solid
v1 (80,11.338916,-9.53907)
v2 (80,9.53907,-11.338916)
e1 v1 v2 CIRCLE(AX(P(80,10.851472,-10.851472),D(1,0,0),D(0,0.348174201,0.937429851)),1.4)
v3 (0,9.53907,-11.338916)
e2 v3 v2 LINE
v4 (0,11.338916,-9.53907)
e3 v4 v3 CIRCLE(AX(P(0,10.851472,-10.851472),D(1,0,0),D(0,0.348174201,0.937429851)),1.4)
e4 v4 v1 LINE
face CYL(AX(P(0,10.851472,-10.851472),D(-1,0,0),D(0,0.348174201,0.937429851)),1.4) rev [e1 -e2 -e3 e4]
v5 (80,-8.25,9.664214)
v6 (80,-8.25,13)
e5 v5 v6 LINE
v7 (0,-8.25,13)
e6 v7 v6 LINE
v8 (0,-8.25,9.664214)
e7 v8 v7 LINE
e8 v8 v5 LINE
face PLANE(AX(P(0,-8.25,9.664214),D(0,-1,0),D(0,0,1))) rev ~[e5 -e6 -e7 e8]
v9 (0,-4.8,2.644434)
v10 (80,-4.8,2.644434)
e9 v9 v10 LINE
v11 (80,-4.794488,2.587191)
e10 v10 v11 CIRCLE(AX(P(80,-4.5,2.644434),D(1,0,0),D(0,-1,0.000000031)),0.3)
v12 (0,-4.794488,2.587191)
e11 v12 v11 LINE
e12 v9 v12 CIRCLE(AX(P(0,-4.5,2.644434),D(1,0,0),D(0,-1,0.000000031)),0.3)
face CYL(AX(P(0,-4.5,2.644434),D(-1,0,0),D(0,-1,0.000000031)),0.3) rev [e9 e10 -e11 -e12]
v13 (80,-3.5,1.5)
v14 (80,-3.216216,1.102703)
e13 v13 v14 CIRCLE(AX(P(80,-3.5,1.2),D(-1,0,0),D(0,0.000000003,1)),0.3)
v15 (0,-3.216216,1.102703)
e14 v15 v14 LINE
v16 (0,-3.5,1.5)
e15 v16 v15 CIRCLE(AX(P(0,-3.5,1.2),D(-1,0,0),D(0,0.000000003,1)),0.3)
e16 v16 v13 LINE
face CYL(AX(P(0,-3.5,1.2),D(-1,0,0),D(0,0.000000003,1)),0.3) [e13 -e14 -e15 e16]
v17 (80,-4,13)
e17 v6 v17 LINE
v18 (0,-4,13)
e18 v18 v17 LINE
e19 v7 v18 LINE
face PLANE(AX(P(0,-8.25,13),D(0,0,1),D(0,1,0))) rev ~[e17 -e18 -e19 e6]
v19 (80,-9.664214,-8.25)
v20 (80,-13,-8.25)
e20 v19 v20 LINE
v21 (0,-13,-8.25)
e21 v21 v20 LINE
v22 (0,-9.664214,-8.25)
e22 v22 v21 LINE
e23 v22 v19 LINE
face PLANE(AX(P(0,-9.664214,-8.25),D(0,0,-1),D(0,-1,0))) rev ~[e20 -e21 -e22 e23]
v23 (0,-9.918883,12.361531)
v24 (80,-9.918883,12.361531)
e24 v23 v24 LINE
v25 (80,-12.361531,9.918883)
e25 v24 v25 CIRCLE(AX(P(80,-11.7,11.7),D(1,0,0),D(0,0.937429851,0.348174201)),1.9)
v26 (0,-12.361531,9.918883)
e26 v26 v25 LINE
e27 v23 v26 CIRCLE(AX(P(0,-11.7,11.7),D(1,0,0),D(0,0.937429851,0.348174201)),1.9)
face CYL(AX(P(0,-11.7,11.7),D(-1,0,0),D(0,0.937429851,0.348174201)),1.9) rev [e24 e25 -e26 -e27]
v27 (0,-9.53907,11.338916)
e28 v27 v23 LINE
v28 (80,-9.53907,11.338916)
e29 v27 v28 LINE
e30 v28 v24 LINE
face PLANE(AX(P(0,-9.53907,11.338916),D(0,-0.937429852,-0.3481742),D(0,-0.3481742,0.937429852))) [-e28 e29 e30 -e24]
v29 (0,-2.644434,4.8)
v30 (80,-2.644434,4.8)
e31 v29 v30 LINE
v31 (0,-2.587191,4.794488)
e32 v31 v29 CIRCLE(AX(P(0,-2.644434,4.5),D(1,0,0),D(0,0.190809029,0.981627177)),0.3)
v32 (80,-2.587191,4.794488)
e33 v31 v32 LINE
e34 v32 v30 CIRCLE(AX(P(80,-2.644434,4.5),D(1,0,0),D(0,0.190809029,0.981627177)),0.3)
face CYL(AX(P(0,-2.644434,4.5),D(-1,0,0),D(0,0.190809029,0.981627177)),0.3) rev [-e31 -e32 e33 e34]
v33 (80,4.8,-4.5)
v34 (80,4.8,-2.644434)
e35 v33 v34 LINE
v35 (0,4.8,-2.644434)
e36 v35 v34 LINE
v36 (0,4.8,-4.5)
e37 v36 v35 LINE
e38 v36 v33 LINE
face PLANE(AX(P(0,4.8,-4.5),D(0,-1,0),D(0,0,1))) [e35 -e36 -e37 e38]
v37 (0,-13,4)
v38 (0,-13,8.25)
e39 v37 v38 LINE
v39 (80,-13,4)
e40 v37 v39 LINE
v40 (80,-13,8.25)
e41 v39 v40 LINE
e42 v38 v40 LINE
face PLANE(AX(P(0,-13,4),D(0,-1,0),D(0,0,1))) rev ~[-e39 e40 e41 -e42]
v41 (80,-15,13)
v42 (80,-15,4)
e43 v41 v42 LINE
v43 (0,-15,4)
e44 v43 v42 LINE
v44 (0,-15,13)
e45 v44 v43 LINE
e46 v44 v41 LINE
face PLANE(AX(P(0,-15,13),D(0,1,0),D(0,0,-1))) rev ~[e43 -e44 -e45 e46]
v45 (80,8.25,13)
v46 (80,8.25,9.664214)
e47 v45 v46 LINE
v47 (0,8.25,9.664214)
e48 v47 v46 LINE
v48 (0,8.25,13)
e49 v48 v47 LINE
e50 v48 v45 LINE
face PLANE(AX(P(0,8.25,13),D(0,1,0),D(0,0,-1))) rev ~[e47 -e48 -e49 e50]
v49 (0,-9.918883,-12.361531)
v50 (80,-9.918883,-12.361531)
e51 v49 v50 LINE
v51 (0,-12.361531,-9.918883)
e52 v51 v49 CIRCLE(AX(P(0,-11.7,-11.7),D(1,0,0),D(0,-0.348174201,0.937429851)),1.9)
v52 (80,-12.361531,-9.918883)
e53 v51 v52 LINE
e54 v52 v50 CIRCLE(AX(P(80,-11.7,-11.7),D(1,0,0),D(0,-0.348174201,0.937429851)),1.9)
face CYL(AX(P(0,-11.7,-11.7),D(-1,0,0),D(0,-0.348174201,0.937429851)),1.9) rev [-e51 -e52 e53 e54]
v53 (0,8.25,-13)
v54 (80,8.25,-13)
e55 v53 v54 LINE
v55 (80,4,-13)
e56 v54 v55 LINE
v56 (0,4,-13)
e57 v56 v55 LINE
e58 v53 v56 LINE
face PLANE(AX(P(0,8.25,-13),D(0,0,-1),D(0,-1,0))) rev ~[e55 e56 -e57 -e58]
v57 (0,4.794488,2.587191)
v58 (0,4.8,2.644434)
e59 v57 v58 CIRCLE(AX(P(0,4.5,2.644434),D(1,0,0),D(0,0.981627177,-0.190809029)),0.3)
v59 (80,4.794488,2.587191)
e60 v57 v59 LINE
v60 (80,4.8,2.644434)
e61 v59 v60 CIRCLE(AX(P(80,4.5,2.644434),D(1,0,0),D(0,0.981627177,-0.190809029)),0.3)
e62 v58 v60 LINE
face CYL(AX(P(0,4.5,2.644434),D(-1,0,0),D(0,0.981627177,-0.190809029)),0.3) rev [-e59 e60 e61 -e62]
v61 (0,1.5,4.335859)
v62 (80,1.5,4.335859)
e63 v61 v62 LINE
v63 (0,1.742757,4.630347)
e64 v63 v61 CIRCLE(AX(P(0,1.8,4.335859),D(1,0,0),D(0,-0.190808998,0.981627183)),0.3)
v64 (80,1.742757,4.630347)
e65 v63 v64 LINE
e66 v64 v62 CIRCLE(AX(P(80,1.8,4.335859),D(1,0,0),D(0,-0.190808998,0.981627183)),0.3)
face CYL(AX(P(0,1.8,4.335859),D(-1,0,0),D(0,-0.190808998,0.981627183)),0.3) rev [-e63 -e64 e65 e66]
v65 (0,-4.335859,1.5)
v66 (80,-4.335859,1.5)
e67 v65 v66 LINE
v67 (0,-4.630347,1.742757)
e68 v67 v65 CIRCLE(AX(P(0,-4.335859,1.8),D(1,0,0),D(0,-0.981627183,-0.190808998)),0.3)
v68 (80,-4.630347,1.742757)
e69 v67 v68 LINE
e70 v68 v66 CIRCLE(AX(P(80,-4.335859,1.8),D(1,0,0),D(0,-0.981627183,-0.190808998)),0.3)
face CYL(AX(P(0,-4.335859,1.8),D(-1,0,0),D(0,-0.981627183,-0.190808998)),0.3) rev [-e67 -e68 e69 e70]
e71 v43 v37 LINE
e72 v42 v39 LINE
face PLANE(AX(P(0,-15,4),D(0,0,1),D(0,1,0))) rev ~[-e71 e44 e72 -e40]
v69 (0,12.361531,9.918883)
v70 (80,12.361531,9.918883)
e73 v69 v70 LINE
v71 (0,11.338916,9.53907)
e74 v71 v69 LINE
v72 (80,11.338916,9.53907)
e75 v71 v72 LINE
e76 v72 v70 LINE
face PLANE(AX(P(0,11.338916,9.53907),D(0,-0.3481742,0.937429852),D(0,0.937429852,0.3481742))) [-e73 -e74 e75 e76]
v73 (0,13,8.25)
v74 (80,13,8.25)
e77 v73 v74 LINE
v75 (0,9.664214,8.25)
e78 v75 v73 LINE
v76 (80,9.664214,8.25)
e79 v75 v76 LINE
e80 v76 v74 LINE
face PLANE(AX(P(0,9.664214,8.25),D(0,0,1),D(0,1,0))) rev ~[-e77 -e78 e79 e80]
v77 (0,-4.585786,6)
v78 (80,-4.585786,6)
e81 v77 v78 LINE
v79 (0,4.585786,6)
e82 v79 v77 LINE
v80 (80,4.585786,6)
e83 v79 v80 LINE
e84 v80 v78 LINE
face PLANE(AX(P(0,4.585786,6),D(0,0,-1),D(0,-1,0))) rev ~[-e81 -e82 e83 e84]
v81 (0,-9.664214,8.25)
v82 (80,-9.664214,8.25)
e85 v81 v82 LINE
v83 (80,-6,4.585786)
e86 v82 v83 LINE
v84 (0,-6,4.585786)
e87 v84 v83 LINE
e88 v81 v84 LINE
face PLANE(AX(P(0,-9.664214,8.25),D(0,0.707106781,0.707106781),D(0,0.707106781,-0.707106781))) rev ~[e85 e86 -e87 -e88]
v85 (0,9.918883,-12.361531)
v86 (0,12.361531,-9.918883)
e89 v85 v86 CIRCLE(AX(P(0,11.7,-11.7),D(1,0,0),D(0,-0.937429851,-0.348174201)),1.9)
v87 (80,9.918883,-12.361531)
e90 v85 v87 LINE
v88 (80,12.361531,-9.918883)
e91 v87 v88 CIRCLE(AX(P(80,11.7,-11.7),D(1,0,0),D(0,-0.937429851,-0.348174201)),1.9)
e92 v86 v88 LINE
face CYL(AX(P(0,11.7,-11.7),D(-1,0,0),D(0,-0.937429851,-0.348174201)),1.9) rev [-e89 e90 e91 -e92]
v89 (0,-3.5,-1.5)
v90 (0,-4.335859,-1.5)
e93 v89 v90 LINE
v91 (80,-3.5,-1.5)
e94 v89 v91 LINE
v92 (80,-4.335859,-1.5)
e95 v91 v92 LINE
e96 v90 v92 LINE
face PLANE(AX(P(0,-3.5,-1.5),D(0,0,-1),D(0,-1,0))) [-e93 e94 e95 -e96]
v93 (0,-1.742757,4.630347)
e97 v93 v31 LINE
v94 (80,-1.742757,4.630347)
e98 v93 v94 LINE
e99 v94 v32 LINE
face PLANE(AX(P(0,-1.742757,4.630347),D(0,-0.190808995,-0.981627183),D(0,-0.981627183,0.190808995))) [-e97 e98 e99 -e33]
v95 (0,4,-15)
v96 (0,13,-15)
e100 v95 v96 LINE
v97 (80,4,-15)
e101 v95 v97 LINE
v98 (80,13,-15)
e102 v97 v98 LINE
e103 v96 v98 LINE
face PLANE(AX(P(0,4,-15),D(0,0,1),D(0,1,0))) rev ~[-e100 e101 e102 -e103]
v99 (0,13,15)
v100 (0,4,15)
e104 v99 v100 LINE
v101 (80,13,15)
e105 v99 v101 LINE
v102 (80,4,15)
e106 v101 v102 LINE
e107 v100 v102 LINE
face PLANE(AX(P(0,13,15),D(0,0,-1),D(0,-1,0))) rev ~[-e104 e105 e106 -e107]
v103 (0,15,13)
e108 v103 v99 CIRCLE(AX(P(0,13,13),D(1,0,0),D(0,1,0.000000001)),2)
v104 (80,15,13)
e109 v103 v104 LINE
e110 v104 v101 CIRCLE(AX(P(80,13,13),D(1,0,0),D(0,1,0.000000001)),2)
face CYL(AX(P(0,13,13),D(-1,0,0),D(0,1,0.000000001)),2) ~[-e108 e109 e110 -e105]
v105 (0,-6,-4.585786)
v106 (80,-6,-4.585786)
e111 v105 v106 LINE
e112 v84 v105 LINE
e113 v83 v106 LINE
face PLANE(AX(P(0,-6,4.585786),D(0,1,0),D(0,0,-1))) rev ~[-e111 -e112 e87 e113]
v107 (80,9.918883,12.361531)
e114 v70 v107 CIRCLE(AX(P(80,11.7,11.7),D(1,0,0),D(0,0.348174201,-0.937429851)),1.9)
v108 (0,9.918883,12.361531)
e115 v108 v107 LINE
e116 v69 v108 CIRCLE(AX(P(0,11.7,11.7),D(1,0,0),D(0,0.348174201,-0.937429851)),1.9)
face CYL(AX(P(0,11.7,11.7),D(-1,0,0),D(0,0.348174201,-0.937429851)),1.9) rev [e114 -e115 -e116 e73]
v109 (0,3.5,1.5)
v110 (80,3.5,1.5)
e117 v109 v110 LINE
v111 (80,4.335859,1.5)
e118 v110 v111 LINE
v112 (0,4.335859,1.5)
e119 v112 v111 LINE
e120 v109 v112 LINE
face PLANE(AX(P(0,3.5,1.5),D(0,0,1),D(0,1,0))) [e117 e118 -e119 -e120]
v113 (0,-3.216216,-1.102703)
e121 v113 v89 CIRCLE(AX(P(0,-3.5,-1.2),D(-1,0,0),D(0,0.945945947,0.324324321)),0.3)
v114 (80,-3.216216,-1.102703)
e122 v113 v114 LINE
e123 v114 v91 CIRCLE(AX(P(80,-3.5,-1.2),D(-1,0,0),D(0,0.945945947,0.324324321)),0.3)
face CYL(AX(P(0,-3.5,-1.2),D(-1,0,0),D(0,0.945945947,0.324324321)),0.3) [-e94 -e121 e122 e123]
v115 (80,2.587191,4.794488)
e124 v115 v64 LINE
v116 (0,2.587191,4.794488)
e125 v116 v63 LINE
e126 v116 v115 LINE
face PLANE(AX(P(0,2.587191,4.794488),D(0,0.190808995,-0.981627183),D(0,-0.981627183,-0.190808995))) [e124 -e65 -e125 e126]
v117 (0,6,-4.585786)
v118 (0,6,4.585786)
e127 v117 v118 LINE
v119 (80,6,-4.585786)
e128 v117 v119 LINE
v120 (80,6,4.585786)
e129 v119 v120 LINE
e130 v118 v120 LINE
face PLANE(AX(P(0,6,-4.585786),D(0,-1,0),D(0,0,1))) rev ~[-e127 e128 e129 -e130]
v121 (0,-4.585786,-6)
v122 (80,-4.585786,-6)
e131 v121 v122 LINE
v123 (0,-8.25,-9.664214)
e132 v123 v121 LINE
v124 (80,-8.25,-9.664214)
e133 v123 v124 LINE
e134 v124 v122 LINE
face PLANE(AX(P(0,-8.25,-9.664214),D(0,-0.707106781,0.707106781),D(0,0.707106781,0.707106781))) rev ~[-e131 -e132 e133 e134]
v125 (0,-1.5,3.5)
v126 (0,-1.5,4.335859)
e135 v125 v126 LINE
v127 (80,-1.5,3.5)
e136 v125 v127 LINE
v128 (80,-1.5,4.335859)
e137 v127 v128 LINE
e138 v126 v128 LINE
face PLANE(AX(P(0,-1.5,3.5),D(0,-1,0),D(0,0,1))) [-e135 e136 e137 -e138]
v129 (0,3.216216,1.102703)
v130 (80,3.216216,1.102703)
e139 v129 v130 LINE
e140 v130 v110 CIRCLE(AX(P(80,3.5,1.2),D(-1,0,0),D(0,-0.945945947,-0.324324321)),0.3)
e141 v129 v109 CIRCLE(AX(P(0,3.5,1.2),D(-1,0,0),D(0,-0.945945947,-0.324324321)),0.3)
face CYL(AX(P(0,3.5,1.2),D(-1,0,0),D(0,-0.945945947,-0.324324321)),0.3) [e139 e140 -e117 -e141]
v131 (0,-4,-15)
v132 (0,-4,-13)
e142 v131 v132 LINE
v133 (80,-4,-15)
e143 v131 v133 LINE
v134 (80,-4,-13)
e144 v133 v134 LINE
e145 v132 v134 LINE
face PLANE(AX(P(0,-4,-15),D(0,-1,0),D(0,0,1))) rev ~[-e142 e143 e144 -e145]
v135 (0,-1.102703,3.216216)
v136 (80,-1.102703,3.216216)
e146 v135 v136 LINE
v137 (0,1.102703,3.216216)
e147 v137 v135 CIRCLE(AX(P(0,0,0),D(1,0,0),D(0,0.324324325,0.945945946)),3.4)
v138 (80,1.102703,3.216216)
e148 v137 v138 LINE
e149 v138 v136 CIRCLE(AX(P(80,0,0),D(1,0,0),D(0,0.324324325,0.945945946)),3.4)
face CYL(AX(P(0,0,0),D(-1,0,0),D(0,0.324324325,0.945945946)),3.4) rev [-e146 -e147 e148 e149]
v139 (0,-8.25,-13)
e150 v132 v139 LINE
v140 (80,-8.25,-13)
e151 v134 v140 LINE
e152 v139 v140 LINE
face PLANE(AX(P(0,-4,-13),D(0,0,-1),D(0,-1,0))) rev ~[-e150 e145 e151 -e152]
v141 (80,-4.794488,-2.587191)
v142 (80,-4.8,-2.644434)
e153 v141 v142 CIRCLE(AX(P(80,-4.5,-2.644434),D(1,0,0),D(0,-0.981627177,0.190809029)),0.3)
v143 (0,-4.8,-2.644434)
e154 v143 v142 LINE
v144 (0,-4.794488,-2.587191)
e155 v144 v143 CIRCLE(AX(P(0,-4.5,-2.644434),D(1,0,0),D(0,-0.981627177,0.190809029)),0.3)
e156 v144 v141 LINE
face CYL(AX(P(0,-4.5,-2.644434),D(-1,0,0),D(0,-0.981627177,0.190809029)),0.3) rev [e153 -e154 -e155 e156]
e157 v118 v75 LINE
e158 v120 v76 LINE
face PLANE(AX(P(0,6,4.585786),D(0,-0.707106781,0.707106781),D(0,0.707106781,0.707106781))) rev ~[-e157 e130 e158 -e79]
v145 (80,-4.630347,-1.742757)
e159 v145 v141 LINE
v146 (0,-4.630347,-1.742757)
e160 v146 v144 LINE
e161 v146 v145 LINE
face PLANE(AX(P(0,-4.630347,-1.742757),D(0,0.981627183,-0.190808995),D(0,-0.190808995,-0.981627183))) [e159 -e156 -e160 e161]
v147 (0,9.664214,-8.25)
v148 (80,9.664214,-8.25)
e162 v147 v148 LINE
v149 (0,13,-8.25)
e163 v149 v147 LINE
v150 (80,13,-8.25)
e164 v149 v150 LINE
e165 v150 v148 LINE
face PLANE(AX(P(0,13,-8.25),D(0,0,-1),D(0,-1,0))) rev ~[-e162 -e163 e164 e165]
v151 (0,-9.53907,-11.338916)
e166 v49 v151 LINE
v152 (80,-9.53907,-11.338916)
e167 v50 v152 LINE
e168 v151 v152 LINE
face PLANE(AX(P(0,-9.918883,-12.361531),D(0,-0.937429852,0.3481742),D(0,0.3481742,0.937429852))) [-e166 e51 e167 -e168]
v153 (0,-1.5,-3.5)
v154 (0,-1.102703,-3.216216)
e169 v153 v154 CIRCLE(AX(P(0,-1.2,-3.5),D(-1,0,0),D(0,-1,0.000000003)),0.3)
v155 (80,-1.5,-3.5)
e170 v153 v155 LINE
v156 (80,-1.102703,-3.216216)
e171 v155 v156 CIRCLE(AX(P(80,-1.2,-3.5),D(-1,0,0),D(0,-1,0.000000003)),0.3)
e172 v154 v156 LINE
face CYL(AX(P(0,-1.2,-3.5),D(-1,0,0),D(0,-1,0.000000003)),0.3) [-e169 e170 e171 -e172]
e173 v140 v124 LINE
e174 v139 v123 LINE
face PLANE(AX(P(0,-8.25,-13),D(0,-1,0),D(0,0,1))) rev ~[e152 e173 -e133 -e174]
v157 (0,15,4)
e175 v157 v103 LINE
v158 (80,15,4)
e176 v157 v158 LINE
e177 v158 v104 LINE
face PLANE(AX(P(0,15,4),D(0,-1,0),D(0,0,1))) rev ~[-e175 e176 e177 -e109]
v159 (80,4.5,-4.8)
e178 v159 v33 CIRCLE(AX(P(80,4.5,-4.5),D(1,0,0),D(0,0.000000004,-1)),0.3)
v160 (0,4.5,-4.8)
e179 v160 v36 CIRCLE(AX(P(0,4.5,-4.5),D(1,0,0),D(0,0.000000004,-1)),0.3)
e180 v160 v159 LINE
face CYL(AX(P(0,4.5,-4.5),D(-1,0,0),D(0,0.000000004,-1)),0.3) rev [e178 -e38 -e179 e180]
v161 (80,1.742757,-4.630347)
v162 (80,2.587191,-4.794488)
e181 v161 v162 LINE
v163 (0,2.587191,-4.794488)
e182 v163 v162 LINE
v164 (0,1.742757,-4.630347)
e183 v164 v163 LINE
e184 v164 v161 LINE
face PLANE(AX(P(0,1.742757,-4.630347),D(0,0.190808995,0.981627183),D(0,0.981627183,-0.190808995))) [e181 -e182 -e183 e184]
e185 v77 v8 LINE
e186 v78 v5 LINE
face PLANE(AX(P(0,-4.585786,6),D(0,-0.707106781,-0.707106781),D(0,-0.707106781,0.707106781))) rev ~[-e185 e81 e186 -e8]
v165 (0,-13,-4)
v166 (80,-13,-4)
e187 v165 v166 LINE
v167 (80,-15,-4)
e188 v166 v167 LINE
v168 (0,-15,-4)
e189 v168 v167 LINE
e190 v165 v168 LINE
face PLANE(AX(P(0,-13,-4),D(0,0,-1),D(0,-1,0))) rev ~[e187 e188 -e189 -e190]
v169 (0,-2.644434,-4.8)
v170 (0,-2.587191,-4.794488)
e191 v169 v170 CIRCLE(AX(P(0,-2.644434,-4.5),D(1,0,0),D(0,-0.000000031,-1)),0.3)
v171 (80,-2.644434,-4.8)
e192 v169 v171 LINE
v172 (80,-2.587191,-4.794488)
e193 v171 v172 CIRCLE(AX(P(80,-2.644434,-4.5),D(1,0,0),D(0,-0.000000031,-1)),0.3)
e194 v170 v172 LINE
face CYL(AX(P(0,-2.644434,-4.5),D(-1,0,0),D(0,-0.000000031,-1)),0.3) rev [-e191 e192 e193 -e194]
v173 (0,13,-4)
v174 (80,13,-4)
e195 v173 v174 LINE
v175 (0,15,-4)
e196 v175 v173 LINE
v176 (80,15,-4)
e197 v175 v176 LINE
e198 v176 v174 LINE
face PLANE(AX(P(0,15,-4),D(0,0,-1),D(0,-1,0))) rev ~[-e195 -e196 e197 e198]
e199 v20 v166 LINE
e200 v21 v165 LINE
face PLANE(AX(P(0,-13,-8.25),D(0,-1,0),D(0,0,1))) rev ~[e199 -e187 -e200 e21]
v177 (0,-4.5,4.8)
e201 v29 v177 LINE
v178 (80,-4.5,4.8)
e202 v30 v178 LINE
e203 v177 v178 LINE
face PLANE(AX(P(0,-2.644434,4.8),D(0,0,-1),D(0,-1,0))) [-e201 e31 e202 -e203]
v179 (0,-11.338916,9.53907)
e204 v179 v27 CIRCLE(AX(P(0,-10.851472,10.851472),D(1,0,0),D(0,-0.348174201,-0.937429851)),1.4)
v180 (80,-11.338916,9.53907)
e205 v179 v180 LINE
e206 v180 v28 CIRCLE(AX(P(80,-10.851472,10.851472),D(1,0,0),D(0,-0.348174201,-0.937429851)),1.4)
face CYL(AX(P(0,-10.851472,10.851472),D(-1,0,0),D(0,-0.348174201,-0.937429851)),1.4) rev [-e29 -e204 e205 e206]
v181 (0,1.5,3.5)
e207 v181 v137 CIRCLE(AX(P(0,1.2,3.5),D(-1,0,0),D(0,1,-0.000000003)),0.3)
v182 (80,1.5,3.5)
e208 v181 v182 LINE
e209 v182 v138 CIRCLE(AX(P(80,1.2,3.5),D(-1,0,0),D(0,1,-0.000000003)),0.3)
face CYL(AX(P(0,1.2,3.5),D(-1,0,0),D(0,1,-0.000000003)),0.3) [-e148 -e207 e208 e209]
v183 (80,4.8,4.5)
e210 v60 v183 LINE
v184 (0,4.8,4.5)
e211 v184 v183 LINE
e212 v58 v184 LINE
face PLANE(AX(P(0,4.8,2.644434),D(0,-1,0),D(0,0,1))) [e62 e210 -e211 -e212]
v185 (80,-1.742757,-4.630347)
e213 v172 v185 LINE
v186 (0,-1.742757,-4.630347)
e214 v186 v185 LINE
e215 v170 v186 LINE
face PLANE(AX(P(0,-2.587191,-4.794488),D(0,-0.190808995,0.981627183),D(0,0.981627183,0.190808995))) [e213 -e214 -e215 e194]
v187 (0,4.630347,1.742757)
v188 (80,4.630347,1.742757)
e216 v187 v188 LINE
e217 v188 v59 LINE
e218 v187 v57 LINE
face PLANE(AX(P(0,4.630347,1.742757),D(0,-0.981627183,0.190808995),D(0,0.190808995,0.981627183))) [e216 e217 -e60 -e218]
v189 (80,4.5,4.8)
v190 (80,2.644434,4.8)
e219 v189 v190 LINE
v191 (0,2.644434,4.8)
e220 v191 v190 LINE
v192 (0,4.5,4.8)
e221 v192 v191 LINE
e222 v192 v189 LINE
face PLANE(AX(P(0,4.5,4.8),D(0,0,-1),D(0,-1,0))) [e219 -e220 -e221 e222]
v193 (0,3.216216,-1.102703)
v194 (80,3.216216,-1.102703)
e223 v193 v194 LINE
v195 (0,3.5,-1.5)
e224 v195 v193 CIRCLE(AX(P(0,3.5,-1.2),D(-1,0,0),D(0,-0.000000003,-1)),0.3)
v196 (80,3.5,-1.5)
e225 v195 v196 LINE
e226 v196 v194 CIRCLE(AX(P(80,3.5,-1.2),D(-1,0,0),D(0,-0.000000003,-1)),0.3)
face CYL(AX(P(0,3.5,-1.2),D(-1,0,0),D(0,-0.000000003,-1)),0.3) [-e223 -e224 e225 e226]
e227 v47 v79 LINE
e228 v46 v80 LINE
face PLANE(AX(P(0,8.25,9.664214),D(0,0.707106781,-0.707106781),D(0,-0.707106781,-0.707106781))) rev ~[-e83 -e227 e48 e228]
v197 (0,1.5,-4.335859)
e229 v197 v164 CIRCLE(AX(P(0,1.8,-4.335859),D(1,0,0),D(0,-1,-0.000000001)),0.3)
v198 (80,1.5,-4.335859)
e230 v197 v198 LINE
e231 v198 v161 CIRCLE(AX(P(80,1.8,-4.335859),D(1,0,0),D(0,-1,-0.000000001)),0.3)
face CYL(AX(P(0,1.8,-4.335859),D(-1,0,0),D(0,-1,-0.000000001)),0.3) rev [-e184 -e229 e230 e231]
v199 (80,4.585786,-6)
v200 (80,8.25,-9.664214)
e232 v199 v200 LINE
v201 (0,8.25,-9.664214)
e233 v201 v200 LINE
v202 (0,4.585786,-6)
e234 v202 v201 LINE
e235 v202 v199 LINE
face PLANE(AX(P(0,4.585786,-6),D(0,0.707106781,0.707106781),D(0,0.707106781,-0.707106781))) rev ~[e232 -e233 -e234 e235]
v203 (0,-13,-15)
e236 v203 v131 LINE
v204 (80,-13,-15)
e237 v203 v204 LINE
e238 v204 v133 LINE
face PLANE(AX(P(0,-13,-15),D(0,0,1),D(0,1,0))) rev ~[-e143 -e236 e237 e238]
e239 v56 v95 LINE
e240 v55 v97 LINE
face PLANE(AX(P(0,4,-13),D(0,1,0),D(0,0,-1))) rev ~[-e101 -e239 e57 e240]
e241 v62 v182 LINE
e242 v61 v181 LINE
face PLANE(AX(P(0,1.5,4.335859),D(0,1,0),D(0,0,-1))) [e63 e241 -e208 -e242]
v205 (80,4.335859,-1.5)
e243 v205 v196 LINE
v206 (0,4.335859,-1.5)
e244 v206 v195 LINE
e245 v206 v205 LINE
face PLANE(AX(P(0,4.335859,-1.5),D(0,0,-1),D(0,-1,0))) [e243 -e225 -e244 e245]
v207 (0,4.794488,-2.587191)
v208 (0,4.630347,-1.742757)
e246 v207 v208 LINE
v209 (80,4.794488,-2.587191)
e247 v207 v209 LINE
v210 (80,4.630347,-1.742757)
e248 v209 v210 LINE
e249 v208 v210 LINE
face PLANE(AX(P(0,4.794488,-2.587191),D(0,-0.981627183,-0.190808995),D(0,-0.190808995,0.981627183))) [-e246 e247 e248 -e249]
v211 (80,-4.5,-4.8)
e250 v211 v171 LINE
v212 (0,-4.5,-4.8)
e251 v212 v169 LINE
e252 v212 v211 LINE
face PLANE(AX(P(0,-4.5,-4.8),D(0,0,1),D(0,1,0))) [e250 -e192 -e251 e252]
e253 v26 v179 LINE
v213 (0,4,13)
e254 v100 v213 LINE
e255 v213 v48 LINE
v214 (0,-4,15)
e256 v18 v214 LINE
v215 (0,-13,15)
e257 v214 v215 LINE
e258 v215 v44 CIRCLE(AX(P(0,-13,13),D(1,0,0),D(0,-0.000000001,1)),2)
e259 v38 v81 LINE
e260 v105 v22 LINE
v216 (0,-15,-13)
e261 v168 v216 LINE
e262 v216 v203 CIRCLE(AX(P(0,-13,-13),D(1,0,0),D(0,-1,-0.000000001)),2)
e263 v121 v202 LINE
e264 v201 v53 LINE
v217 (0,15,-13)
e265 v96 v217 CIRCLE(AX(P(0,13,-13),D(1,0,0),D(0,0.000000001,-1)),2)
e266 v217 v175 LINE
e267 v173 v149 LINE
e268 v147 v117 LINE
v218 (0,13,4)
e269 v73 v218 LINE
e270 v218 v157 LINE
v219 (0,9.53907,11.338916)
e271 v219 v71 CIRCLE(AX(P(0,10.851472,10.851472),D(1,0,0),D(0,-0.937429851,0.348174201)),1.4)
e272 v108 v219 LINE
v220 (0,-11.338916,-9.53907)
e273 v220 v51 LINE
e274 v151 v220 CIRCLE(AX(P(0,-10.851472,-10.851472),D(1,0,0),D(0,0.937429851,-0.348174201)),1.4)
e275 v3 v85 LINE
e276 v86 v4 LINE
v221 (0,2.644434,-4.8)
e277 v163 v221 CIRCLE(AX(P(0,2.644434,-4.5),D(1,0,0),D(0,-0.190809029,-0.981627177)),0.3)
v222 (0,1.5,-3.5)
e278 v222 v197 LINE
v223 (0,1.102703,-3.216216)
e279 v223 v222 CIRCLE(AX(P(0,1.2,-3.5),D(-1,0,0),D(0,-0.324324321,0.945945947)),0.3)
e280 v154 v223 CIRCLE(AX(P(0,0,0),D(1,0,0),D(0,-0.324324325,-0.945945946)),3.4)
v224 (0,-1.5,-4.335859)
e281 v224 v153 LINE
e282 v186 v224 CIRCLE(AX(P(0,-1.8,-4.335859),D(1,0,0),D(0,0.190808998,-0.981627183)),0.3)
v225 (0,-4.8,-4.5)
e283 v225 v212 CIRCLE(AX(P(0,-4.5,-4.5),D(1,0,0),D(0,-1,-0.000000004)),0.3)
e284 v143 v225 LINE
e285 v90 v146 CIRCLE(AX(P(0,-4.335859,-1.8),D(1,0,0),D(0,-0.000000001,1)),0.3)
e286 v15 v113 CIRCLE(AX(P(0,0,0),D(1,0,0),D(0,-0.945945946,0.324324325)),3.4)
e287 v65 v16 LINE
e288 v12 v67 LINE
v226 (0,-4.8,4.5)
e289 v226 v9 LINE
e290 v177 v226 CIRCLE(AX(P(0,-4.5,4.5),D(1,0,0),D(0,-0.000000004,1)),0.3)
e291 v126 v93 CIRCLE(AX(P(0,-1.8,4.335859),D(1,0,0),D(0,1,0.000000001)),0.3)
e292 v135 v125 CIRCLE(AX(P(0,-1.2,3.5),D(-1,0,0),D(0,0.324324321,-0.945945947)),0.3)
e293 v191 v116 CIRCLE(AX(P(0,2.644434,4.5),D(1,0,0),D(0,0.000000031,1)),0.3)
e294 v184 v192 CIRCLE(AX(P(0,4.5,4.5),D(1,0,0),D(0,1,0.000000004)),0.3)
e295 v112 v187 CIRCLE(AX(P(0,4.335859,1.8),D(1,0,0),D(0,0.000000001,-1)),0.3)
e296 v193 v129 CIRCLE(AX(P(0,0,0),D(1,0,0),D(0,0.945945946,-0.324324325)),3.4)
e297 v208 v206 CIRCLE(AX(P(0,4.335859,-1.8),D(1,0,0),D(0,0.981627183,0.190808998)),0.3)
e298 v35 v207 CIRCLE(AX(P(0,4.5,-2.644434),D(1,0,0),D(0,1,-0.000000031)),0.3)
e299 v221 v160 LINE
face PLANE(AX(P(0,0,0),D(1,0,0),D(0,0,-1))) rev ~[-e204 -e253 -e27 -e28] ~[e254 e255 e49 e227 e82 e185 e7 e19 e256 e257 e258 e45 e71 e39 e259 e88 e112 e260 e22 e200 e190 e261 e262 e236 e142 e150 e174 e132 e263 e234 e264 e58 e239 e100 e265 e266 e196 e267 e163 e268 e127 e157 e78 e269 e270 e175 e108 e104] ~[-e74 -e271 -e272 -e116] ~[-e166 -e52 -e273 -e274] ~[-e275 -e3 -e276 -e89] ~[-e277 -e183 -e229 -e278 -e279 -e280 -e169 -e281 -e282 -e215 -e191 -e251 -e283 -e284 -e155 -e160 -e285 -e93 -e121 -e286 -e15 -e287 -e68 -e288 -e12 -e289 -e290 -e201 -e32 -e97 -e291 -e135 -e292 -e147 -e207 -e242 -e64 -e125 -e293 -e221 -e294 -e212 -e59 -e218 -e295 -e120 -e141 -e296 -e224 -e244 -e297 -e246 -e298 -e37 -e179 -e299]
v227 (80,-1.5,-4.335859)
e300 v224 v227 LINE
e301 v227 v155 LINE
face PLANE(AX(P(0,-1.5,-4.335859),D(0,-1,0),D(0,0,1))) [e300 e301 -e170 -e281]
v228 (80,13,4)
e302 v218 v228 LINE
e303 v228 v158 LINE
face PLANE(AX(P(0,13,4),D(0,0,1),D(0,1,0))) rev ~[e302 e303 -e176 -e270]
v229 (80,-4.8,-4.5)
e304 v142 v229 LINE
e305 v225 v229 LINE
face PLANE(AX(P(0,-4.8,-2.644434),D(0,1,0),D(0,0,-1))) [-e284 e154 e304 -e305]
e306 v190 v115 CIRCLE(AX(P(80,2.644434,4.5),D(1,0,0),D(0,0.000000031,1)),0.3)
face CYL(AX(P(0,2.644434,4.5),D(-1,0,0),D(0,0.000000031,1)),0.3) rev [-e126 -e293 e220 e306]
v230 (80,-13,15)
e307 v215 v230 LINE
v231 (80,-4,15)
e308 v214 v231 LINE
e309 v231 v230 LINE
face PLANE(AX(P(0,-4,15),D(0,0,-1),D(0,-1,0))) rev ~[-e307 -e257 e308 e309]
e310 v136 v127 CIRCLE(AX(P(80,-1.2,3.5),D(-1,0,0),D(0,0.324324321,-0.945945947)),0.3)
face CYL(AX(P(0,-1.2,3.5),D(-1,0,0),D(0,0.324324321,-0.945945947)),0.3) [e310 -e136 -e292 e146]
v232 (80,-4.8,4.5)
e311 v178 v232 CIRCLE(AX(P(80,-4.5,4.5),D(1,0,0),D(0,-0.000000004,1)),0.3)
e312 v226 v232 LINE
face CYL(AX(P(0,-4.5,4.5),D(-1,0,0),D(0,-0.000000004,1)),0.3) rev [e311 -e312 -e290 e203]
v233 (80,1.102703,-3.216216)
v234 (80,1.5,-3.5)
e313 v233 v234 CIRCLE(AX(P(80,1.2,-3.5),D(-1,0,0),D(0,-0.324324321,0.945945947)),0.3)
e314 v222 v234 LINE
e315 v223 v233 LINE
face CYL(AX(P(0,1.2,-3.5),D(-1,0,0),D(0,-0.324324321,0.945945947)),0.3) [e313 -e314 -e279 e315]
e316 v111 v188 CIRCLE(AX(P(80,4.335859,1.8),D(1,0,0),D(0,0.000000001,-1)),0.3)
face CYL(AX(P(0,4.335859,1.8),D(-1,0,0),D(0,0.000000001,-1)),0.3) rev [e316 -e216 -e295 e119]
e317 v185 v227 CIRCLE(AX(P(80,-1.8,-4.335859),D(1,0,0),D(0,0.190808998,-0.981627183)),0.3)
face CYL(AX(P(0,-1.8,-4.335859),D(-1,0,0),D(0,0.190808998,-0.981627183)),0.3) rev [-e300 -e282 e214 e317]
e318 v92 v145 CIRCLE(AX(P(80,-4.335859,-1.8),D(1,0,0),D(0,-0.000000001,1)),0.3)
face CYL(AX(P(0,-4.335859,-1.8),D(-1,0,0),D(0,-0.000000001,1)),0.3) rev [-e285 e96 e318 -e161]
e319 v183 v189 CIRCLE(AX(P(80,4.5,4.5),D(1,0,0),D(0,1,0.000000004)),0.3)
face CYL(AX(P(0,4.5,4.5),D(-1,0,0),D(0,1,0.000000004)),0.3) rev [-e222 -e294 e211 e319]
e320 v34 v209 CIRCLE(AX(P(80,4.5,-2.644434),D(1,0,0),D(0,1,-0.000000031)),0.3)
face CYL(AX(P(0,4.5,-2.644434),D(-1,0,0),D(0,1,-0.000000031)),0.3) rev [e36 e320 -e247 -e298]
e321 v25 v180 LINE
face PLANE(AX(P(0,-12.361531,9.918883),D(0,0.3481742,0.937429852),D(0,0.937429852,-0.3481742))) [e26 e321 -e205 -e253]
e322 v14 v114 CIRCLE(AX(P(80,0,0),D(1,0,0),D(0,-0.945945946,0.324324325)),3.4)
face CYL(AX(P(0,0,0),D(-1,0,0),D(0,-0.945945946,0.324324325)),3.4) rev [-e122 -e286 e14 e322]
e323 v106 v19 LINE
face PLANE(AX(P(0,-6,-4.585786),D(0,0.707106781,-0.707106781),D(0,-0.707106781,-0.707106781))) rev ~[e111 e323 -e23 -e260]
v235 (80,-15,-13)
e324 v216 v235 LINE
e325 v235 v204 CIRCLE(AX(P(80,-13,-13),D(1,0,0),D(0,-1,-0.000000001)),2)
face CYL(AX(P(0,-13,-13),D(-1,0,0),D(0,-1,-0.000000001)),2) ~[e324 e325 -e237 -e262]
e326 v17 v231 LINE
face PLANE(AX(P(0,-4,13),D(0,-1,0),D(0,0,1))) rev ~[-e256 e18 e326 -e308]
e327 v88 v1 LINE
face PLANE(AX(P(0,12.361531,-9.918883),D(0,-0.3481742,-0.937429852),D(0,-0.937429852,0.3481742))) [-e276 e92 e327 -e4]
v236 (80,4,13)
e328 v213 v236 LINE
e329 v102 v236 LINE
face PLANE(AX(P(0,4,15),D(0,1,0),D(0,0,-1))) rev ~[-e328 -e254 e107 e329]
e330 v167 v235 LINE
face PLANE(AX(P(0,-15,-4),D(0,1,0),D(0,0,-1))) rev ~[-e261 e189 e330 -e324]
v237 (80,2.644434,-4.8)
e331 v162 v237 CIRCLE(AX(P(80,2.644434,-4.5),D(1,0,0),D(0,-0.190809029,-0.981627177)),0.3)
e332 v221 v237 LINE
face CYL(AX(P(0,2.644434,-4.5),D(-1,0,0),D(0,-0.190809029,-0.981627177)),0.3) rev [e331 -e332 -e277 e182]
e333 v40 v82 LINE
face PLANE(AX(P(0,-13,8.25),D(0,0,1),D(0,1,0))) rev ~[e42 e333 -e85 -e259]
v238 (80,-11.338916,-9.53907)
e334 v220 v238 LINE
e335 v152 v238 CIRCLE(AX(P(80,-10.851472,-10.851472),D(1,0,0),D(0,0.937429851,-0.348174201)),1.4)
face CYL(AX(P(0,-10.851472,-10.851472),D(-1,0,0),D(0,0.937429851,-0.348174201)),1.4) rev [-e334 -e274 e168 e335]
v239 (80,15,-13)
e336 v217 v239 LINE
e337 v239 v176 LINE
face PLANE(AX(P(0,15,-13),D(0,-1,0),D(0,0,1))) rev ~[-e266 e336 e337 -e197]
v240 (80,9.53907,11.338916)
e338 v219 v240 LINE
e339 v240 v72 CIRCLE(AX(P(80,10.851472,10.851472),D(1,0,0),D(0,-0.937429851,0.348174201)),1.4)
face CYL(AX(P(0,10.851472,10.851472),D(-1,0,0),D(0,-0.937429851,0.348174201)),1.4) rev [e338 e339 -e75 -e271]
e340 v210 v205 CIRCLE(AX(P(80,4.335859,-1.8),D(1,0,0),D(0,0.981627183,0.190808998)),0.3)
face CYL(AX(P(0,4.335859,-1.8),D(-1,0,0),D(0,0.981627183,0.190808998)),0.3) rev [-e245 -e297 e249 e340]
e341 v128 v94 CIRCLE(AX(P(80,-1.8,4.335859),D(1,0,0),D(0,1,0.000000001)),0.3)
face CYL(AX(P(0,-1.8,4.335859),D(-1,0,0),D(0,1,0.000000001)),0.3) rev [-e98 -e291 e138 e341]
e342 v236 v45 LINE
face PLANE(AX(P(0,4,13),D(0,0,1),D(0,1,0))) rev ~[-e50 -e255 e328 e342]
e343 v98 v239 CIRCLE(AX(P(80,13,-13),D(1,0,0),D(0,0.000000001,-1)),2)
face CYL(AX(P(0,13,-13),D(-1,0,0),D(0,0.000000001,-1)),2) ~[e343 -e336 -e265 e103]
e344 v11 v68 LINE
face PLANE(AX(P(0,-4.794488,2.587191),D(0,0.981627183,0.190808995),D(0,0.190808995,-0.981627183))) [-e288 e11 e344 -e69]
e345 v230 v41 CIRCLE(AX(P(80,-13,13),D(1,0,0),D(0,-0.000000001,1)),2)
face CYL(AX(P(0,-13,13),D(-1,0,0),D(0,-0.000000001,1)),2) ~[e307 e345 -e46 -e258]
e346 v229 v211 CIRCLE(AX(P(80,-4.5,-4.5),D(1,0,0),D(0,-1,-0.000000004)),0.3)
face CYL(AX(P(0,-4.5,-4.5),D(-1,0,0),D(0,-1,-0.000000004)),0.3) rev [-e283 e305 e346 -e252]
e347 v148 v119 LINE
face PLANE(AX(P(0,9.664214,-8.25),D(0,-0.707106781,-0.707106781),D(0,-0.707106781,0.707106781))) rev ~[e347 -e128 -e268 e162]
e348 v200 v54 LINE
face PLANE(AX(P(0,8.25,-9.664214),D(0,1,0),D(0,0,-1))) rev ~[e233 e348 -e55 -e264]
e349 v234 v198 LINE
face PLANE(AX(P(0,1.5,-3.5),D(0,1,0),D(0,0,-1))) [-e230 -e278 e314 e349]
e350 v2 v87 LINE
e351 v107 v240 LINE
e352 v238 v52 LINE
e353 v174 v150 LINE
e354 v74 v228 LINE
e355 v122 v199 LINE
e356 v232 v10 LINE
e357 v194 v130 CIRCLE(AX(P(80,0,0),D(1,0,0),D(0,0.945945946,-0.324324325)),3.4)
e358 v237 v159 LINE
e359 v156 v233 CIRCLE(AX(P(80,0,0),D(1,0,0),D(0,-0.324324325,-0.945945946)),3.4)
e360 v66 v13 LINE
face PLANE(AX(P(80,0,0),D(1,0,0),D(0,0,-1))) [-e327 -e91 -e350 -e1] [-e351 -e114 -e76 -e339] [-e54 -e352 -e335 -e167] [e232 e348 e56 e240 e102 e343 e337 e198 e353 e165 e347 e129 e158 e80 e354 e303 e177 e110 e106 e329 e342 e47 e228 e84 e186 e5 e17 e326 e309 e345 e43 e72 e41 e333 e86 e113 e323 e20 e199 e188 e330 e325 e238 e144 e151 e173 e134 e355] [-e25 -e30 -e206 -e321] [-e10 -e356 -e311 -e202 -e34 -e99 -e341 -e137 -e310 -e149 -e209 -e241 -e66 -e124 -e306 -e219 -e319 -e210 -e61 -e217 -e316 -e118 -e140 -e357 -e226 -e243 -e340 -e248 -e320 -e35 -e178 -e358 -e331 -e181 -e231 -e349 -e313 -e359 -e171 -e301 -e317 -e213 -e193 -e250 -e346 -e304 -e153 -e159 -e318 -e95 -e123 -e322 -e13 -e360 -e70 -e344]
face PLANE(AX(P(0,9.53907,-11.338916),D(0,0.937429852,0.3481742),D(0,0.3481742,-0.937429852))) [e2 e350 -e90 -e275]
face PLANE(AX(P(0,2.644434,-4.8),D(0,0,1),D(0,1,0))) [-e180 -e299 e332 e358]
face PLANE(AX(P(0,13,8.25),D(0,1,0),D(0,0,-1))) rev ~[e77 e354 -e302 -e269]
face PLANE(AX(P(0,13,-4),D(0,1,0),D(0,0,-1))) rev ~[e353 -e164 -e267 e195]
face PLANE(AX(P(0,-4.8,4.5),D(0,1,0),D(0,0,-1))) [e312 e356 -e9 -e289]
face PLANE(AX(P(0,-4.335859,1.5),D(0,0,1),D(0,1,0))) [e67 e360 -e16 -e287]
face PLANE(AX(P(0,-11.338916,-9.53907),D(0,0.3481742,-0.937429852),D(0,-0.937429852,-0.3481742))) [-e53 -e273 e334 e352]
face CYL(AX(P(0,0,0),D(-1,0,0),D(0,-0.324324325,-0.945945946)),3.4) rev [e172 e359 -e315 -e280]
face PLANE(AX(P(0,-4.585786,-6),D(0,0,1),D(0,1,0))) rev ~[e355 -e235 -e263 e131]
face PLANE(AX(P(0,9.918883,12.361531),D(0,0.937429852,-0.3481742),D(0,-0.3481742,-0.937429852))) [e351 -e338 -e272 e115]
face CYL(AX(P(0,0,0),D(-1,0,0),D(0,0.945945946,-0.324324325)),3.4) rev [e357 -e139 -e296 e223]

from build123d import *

# Parameters (mm, degrees)
BOSS_EXTRUDE1_DEPTH = 80


with BuildPart() as part:
    # Sketch1 → Boss-Extrude1 (new body)
    with BuildSketch(Plane(origin=(0, 0, 0), x_dir=(0, 0, -1), z_dir=(1, 0, 0))):
        with BuildLine():
            Line((-15, 13), (-15, 4))
            Line((-15, 4), (-13, 4))
            Line((-13, 4), (-13, 8.25))
            Line((-13, 8.25), (-9.664213562, 8.25))
            Line((-9.664213562, 8.25), (-6, 4.585786438))
            Line((-6, 4.585786438), (-6, -4.585786438))
            Line((-6, -4.585786438), (-9.664213562, -8.25))
            Line((-9.664213562, -8.25), (-13, -8.25))
            Line((-13, -8.25), (-13, -4))
            Line((-13, -4), (-15, -4))
            Line((-15, -4), (-15, -13))
            ThreePointArc((-15, -13), (-14.414213562, -14.414213562), (-13, -15))
            Line((-13, -15), (-4, -15))
            Line((-4, -15), (-4, -13))
            Line((-4, -13), (-8.25, -13))
            Line((-8.25, -13), (-8.25, -9.664213562))
            Line((-8.25, -9.664213562), (-4.585786438, -6))
            Line((-4.585786438, -6), (4.585786438, -6))
            Line((4.585786438, -6), (8.25, -9.664213562))
            Line((8.25, -9.664213562), (8.25, -13))
            Line((8.25, -13), (4, -13))
            Line((4, -13), (4, -15))
            Line((4, -15), (13, -15))
            ThreePointArc((13, -15), (14.414213562, -14.414213562), (15, -13))
            Line((15, -13), (15, -4))
            Line((15, -4), (13, -4))
            Line((13, -4), (13, -8.25))
            Line((13, -8.25), (9.664213562, -8.25))
            Line((9.664213562, -8.25), (6, -4.585786438))
            Line((6, -4.585786438), (6, 4.585786438))
            Line((6, 4.585786438), (9.664213562, 8.25))
            Line((9.664213562, 8.25), (13, 8.25))
            Line((13, 8.25), (13, 4))
            Line((13, 4), (15, 4))
            Line((15, 4), (15, 13))
            ThreePointArc((15, 13), (14.414213562, 14.414213562), (13, 15))
            Line((13, 15), (4, 15))
            Line((4, 15), (4, 13))
            Line((4, 13), (8.25, 13))
            Line((8.25, 13), (8.25, 9.664213562))
            Line((8.25, 9.664213562), (4.585786438, 6))
            Line((4.585786438, 6), (-4.585786438, 6))
            Line((-4.585786438, 6), (-8.25, 9.664213562))
            Line((-8.25, 9.664213562), (-8.25, 13))
            Line((-8.25, 13), (-4, 13))
            Line((-4, 13), (-4, 15))
            Line((-4, 15), (-13, 15))
            ThreePointArc((-13, 15), (-14.414213562, 14.414213562), (-15, 13))
        make_face()
        with BuildLine():
            Line((-9.539070071, 11.338915743), (-9.918883282, 12.361530981))
            ThreePointArc((-9.918883282, 12.361530981), (-13.043502884, 13.043502884), (-12.361530981, 9.918883282))
            Line((-12.361530981, 9.918883282), (-11.338915743, 9.539070071))
            ThreePointArc((-11.338915743, 9.539070071), (-9.861522369, 9.861522369), (-9.539070071, 11.338915743))
        make_face(mode=Mode.SUBTRACT)
        with BuildLine():
            Line((9.918883282, 12.361530981), (9.539070071, 11.338915743))
            ThreePointArc((9.539070071, 11.338915743), (9.861522369, 9.861522369), (11.338915743, 9.539070071))
            Line((11.338915743, 9.539070071), (12.361530981, 9.918883282))
            ThreePointArc((12.361530981, 9.918883282), (13.043502884, 13.043502884), (9.918883282, 12.361530981))
        make_face(mode=Mode.SUBTRACT)
        with BuildLine():
            Line((12.361530981, -9.918883282), (11.338915743, -9.539070071))
            ThreePointArc((11.338915743, -9.539070071), (9.861522369, -9.861522369), (9.539070071, -11.338915743))
            Line((9.539070071, -11.338915743), (9.918883282, -12.361530981))
            ThreePointArc((9.918883282, -12.361530981), (13.043502884, -13.043502884), (12.361530981, -9.918883282))
        make_face(mode=Mode.SUBTRACT)
        with BuildLine():
            Line((-11.338915743, -9.539070071), (-12.361530981, -9.918883282))
            ThreePointArc((-12.361530981, -9.918883282), (-13.043502884, -13.043502884), (-9.918883282, -12.361530981))
            Line((-9.918883282, -12.361530981), (-9.539070071, -11.338915743))
            ThreePointArc((-9.539070071, -11.338915743), (-9.861522369, -9.861522369), (-11.338915743, -9.539070071))
        make_face(mode=Mode.SUBTRACT)
        with BuildLine():
            Line((-4.8, -2.644433572), (-4.8, -4.5))
            ThreePointArc((-4.8, -4.5), (-4.712132034, -4.712132034), (-4.5, -4.8))
            Line((-4.5, -4.8), (-2.644433572, -4.8))
            ThreePointArc((-2.644433572, -4.8), (-2.615679847, -4.79861886), (-2.587190874, -4.794488155))
            Line((-2.587190874, -4.794488155), (-1.742757301, -4.630346896))
            ThreePointArc((-1.742757301, -4.630346896), (-1.568512625, -4.526682207), (-1.5, -4.335858741))
            Line((-1.5, -4.335858741), (-1.5, -3.5))
            ThreePointArc((-1.5, -3.5), (-1.374371458, -3.255879959), (-1.102702703, -3.216216216))
            ThreePointArc((-1.102702703, -3.216216216), (0, -3.4), (1.102702703, -3.216216216))
            ThreePointArc((1.102702703, -3.216216216), (1.374371458, -3.255879959), (1.5, -3.5))
            Line((1.5, -3.5), (1.5, -4.335858741))
            ThreePointArc((1.5, -4.335858741), (1.568512625, -4.526682207), (1.742757301, -4.630346896))
            Line((1.742757301, -4.630346896), (2.587190874, -4.794488155))
            ThreePointArc((2.587190874, -4.794488155), (2.615679847, -4.79861886), (2.644433572, -4.8))
            Line((2.644433572, -4.8), (4.5, -4.8))
            ThreePointArc((4.5, -4.8), (4.712132034, -4.712132034), (4.8, -4.5))
            Line((4.8, -4.5), (4.8, -2.644433572))
            ThreePointArc((4.8, -2.644433572), (4.79861886, -2.615679847), (4.794488155, -2.587190874))
            Line((4.794488155, -2.587190874), (4.630346896, -1.742757301))
            ThreePointArc((4.630346896, -1.742757301), (4.526682207, -1.568512625), (4.335858741, -1.5))
            Line((4.335858741, -1.5), (3.5, -1.5))
            ThreePointArc((3.5, -1.5), (3.255879959, -1.374371458), (3.216216216, -1.102702703))
            ThreePointArc((3.216216216, -1.102702703), (3.4, 0), (3.216216216, 1.102702703))
            ThreePointArc((3.216216216, 1.102702703), (3.255879959, 1.374371458), (3.5, 1.5))
            Line((3.5, 1.5), (4.335858741, 1.5))
            ThreePointArc((4.335858741, 1.5), (4.526682207, 1.568512625), (4.630346896, 1.742757301))
            Line((4.630346896, 1.742757301), (4.794488155, 2.587190874))
            ThreePointArc((4.794488155, 2.587190874), (4.79861886, 2.615679847), (4.8, 2.644433572))
            Line((4.8, 2.644433572), (4.8, 4.5))
            ThreePointArc((4.8, 4.5), (4.712132034, 4.712132034), (4.5, 4.8))
            Line((4.5, 4.8), (2.644433572, 4.8))
            ThreePointArc((2.644433572, 4.8), (2.615679847, 4.79861886), (2.587190874, 4.794488155))
            Line((2.587190874, 4.794488155), (1.742757301, 4.630346896))
            ThreePointArc((1.742757301, 4.630346896), (1.568512625, 4.526682207), (1.5, 4.335858741))
            Line((1.5, 4.335858741), (1.5, 3.5))
            ThreePointArc((1.5, 3.5), (1.374371458, 3.255879959), (1.102702703, 3.216216216))
            ThreePointArc((1.102702703, 3.216216216), (0, 3.4), (-1.102702703, 3.216216216))
            ThreePointArc((-1.102702703, 3.216216216), (-1.374371458, 3.255879959), (-1.5, 3.5))
            Line((-1.5, 3.5), (-1.5, 4.335858741))
            ThreePointArc((-1.5, 4.335858741), (-1.568512625, 4.526682207), (-1.742757301, 4.630346896))
            Line((-1.742757301, 4.630346896), (-2.587190874, 4.794488155))
            ThreePointArc((-2.587190874, 4.794488155), (-2.615679847, 4.79861886), (-2.644433572, 4.8))
            Line((-2.644433572, 4.8), (-4.5, 4.8))
            ThreePointArc((-4.5, 4.8), (-4.712132034, 4.712132034), (-4.8, 4.5))
            Line((-4.8, 4.5), (-4.8, 2.644433572))
            ThreePointArc((-4.8, 2.644433572), (-4.79861886, 2.615679847), (-4.794488155, 2.587190874))
            Line((-4.794488155, 2.587190874), (-4.630346896, 1.742757301))
            ThreePointArc((-4.630346896, 1.742757301), (-4.526682207, 1.568512625), (-4.335858741, 1.5))
            Line((-4.335858741, 1.5), (-3.5, 1.5))
            ThreePointArc((-3.5, 1.5), (-3.255879959, 1.374371458), (-3.216216216, 1.102702703))
            ThreePointArc((-3.216216216, 1.102702703), (-3.4, 0), (-3.216216216, -1.102702703))
            ThreePointArc((-3.216216216, -1.102702703), (-3.255879959, -1.374371458), (-3.5, -1.5))
            Line((-3.5, -1.5), (-4.335858741, -1.5))
            ThreePointArc((-4.335858741, -1.5), (-4.526682207, -1.568512625), (-4.630346896, -1.742757301))
            Line((-4.630346896, -1.742757301), (-4.794488155, -2.587190874))
            ThreePointArc((-4.794488155, -2.587190874), (-4.79861886, -2.615679847), (-4.8, -2.644433572))
        make_face(mode=Mode.SUBTRACT)
    extrude(amount=BOSS_EXTRUDE1_DEPTH)


solid = part.part
